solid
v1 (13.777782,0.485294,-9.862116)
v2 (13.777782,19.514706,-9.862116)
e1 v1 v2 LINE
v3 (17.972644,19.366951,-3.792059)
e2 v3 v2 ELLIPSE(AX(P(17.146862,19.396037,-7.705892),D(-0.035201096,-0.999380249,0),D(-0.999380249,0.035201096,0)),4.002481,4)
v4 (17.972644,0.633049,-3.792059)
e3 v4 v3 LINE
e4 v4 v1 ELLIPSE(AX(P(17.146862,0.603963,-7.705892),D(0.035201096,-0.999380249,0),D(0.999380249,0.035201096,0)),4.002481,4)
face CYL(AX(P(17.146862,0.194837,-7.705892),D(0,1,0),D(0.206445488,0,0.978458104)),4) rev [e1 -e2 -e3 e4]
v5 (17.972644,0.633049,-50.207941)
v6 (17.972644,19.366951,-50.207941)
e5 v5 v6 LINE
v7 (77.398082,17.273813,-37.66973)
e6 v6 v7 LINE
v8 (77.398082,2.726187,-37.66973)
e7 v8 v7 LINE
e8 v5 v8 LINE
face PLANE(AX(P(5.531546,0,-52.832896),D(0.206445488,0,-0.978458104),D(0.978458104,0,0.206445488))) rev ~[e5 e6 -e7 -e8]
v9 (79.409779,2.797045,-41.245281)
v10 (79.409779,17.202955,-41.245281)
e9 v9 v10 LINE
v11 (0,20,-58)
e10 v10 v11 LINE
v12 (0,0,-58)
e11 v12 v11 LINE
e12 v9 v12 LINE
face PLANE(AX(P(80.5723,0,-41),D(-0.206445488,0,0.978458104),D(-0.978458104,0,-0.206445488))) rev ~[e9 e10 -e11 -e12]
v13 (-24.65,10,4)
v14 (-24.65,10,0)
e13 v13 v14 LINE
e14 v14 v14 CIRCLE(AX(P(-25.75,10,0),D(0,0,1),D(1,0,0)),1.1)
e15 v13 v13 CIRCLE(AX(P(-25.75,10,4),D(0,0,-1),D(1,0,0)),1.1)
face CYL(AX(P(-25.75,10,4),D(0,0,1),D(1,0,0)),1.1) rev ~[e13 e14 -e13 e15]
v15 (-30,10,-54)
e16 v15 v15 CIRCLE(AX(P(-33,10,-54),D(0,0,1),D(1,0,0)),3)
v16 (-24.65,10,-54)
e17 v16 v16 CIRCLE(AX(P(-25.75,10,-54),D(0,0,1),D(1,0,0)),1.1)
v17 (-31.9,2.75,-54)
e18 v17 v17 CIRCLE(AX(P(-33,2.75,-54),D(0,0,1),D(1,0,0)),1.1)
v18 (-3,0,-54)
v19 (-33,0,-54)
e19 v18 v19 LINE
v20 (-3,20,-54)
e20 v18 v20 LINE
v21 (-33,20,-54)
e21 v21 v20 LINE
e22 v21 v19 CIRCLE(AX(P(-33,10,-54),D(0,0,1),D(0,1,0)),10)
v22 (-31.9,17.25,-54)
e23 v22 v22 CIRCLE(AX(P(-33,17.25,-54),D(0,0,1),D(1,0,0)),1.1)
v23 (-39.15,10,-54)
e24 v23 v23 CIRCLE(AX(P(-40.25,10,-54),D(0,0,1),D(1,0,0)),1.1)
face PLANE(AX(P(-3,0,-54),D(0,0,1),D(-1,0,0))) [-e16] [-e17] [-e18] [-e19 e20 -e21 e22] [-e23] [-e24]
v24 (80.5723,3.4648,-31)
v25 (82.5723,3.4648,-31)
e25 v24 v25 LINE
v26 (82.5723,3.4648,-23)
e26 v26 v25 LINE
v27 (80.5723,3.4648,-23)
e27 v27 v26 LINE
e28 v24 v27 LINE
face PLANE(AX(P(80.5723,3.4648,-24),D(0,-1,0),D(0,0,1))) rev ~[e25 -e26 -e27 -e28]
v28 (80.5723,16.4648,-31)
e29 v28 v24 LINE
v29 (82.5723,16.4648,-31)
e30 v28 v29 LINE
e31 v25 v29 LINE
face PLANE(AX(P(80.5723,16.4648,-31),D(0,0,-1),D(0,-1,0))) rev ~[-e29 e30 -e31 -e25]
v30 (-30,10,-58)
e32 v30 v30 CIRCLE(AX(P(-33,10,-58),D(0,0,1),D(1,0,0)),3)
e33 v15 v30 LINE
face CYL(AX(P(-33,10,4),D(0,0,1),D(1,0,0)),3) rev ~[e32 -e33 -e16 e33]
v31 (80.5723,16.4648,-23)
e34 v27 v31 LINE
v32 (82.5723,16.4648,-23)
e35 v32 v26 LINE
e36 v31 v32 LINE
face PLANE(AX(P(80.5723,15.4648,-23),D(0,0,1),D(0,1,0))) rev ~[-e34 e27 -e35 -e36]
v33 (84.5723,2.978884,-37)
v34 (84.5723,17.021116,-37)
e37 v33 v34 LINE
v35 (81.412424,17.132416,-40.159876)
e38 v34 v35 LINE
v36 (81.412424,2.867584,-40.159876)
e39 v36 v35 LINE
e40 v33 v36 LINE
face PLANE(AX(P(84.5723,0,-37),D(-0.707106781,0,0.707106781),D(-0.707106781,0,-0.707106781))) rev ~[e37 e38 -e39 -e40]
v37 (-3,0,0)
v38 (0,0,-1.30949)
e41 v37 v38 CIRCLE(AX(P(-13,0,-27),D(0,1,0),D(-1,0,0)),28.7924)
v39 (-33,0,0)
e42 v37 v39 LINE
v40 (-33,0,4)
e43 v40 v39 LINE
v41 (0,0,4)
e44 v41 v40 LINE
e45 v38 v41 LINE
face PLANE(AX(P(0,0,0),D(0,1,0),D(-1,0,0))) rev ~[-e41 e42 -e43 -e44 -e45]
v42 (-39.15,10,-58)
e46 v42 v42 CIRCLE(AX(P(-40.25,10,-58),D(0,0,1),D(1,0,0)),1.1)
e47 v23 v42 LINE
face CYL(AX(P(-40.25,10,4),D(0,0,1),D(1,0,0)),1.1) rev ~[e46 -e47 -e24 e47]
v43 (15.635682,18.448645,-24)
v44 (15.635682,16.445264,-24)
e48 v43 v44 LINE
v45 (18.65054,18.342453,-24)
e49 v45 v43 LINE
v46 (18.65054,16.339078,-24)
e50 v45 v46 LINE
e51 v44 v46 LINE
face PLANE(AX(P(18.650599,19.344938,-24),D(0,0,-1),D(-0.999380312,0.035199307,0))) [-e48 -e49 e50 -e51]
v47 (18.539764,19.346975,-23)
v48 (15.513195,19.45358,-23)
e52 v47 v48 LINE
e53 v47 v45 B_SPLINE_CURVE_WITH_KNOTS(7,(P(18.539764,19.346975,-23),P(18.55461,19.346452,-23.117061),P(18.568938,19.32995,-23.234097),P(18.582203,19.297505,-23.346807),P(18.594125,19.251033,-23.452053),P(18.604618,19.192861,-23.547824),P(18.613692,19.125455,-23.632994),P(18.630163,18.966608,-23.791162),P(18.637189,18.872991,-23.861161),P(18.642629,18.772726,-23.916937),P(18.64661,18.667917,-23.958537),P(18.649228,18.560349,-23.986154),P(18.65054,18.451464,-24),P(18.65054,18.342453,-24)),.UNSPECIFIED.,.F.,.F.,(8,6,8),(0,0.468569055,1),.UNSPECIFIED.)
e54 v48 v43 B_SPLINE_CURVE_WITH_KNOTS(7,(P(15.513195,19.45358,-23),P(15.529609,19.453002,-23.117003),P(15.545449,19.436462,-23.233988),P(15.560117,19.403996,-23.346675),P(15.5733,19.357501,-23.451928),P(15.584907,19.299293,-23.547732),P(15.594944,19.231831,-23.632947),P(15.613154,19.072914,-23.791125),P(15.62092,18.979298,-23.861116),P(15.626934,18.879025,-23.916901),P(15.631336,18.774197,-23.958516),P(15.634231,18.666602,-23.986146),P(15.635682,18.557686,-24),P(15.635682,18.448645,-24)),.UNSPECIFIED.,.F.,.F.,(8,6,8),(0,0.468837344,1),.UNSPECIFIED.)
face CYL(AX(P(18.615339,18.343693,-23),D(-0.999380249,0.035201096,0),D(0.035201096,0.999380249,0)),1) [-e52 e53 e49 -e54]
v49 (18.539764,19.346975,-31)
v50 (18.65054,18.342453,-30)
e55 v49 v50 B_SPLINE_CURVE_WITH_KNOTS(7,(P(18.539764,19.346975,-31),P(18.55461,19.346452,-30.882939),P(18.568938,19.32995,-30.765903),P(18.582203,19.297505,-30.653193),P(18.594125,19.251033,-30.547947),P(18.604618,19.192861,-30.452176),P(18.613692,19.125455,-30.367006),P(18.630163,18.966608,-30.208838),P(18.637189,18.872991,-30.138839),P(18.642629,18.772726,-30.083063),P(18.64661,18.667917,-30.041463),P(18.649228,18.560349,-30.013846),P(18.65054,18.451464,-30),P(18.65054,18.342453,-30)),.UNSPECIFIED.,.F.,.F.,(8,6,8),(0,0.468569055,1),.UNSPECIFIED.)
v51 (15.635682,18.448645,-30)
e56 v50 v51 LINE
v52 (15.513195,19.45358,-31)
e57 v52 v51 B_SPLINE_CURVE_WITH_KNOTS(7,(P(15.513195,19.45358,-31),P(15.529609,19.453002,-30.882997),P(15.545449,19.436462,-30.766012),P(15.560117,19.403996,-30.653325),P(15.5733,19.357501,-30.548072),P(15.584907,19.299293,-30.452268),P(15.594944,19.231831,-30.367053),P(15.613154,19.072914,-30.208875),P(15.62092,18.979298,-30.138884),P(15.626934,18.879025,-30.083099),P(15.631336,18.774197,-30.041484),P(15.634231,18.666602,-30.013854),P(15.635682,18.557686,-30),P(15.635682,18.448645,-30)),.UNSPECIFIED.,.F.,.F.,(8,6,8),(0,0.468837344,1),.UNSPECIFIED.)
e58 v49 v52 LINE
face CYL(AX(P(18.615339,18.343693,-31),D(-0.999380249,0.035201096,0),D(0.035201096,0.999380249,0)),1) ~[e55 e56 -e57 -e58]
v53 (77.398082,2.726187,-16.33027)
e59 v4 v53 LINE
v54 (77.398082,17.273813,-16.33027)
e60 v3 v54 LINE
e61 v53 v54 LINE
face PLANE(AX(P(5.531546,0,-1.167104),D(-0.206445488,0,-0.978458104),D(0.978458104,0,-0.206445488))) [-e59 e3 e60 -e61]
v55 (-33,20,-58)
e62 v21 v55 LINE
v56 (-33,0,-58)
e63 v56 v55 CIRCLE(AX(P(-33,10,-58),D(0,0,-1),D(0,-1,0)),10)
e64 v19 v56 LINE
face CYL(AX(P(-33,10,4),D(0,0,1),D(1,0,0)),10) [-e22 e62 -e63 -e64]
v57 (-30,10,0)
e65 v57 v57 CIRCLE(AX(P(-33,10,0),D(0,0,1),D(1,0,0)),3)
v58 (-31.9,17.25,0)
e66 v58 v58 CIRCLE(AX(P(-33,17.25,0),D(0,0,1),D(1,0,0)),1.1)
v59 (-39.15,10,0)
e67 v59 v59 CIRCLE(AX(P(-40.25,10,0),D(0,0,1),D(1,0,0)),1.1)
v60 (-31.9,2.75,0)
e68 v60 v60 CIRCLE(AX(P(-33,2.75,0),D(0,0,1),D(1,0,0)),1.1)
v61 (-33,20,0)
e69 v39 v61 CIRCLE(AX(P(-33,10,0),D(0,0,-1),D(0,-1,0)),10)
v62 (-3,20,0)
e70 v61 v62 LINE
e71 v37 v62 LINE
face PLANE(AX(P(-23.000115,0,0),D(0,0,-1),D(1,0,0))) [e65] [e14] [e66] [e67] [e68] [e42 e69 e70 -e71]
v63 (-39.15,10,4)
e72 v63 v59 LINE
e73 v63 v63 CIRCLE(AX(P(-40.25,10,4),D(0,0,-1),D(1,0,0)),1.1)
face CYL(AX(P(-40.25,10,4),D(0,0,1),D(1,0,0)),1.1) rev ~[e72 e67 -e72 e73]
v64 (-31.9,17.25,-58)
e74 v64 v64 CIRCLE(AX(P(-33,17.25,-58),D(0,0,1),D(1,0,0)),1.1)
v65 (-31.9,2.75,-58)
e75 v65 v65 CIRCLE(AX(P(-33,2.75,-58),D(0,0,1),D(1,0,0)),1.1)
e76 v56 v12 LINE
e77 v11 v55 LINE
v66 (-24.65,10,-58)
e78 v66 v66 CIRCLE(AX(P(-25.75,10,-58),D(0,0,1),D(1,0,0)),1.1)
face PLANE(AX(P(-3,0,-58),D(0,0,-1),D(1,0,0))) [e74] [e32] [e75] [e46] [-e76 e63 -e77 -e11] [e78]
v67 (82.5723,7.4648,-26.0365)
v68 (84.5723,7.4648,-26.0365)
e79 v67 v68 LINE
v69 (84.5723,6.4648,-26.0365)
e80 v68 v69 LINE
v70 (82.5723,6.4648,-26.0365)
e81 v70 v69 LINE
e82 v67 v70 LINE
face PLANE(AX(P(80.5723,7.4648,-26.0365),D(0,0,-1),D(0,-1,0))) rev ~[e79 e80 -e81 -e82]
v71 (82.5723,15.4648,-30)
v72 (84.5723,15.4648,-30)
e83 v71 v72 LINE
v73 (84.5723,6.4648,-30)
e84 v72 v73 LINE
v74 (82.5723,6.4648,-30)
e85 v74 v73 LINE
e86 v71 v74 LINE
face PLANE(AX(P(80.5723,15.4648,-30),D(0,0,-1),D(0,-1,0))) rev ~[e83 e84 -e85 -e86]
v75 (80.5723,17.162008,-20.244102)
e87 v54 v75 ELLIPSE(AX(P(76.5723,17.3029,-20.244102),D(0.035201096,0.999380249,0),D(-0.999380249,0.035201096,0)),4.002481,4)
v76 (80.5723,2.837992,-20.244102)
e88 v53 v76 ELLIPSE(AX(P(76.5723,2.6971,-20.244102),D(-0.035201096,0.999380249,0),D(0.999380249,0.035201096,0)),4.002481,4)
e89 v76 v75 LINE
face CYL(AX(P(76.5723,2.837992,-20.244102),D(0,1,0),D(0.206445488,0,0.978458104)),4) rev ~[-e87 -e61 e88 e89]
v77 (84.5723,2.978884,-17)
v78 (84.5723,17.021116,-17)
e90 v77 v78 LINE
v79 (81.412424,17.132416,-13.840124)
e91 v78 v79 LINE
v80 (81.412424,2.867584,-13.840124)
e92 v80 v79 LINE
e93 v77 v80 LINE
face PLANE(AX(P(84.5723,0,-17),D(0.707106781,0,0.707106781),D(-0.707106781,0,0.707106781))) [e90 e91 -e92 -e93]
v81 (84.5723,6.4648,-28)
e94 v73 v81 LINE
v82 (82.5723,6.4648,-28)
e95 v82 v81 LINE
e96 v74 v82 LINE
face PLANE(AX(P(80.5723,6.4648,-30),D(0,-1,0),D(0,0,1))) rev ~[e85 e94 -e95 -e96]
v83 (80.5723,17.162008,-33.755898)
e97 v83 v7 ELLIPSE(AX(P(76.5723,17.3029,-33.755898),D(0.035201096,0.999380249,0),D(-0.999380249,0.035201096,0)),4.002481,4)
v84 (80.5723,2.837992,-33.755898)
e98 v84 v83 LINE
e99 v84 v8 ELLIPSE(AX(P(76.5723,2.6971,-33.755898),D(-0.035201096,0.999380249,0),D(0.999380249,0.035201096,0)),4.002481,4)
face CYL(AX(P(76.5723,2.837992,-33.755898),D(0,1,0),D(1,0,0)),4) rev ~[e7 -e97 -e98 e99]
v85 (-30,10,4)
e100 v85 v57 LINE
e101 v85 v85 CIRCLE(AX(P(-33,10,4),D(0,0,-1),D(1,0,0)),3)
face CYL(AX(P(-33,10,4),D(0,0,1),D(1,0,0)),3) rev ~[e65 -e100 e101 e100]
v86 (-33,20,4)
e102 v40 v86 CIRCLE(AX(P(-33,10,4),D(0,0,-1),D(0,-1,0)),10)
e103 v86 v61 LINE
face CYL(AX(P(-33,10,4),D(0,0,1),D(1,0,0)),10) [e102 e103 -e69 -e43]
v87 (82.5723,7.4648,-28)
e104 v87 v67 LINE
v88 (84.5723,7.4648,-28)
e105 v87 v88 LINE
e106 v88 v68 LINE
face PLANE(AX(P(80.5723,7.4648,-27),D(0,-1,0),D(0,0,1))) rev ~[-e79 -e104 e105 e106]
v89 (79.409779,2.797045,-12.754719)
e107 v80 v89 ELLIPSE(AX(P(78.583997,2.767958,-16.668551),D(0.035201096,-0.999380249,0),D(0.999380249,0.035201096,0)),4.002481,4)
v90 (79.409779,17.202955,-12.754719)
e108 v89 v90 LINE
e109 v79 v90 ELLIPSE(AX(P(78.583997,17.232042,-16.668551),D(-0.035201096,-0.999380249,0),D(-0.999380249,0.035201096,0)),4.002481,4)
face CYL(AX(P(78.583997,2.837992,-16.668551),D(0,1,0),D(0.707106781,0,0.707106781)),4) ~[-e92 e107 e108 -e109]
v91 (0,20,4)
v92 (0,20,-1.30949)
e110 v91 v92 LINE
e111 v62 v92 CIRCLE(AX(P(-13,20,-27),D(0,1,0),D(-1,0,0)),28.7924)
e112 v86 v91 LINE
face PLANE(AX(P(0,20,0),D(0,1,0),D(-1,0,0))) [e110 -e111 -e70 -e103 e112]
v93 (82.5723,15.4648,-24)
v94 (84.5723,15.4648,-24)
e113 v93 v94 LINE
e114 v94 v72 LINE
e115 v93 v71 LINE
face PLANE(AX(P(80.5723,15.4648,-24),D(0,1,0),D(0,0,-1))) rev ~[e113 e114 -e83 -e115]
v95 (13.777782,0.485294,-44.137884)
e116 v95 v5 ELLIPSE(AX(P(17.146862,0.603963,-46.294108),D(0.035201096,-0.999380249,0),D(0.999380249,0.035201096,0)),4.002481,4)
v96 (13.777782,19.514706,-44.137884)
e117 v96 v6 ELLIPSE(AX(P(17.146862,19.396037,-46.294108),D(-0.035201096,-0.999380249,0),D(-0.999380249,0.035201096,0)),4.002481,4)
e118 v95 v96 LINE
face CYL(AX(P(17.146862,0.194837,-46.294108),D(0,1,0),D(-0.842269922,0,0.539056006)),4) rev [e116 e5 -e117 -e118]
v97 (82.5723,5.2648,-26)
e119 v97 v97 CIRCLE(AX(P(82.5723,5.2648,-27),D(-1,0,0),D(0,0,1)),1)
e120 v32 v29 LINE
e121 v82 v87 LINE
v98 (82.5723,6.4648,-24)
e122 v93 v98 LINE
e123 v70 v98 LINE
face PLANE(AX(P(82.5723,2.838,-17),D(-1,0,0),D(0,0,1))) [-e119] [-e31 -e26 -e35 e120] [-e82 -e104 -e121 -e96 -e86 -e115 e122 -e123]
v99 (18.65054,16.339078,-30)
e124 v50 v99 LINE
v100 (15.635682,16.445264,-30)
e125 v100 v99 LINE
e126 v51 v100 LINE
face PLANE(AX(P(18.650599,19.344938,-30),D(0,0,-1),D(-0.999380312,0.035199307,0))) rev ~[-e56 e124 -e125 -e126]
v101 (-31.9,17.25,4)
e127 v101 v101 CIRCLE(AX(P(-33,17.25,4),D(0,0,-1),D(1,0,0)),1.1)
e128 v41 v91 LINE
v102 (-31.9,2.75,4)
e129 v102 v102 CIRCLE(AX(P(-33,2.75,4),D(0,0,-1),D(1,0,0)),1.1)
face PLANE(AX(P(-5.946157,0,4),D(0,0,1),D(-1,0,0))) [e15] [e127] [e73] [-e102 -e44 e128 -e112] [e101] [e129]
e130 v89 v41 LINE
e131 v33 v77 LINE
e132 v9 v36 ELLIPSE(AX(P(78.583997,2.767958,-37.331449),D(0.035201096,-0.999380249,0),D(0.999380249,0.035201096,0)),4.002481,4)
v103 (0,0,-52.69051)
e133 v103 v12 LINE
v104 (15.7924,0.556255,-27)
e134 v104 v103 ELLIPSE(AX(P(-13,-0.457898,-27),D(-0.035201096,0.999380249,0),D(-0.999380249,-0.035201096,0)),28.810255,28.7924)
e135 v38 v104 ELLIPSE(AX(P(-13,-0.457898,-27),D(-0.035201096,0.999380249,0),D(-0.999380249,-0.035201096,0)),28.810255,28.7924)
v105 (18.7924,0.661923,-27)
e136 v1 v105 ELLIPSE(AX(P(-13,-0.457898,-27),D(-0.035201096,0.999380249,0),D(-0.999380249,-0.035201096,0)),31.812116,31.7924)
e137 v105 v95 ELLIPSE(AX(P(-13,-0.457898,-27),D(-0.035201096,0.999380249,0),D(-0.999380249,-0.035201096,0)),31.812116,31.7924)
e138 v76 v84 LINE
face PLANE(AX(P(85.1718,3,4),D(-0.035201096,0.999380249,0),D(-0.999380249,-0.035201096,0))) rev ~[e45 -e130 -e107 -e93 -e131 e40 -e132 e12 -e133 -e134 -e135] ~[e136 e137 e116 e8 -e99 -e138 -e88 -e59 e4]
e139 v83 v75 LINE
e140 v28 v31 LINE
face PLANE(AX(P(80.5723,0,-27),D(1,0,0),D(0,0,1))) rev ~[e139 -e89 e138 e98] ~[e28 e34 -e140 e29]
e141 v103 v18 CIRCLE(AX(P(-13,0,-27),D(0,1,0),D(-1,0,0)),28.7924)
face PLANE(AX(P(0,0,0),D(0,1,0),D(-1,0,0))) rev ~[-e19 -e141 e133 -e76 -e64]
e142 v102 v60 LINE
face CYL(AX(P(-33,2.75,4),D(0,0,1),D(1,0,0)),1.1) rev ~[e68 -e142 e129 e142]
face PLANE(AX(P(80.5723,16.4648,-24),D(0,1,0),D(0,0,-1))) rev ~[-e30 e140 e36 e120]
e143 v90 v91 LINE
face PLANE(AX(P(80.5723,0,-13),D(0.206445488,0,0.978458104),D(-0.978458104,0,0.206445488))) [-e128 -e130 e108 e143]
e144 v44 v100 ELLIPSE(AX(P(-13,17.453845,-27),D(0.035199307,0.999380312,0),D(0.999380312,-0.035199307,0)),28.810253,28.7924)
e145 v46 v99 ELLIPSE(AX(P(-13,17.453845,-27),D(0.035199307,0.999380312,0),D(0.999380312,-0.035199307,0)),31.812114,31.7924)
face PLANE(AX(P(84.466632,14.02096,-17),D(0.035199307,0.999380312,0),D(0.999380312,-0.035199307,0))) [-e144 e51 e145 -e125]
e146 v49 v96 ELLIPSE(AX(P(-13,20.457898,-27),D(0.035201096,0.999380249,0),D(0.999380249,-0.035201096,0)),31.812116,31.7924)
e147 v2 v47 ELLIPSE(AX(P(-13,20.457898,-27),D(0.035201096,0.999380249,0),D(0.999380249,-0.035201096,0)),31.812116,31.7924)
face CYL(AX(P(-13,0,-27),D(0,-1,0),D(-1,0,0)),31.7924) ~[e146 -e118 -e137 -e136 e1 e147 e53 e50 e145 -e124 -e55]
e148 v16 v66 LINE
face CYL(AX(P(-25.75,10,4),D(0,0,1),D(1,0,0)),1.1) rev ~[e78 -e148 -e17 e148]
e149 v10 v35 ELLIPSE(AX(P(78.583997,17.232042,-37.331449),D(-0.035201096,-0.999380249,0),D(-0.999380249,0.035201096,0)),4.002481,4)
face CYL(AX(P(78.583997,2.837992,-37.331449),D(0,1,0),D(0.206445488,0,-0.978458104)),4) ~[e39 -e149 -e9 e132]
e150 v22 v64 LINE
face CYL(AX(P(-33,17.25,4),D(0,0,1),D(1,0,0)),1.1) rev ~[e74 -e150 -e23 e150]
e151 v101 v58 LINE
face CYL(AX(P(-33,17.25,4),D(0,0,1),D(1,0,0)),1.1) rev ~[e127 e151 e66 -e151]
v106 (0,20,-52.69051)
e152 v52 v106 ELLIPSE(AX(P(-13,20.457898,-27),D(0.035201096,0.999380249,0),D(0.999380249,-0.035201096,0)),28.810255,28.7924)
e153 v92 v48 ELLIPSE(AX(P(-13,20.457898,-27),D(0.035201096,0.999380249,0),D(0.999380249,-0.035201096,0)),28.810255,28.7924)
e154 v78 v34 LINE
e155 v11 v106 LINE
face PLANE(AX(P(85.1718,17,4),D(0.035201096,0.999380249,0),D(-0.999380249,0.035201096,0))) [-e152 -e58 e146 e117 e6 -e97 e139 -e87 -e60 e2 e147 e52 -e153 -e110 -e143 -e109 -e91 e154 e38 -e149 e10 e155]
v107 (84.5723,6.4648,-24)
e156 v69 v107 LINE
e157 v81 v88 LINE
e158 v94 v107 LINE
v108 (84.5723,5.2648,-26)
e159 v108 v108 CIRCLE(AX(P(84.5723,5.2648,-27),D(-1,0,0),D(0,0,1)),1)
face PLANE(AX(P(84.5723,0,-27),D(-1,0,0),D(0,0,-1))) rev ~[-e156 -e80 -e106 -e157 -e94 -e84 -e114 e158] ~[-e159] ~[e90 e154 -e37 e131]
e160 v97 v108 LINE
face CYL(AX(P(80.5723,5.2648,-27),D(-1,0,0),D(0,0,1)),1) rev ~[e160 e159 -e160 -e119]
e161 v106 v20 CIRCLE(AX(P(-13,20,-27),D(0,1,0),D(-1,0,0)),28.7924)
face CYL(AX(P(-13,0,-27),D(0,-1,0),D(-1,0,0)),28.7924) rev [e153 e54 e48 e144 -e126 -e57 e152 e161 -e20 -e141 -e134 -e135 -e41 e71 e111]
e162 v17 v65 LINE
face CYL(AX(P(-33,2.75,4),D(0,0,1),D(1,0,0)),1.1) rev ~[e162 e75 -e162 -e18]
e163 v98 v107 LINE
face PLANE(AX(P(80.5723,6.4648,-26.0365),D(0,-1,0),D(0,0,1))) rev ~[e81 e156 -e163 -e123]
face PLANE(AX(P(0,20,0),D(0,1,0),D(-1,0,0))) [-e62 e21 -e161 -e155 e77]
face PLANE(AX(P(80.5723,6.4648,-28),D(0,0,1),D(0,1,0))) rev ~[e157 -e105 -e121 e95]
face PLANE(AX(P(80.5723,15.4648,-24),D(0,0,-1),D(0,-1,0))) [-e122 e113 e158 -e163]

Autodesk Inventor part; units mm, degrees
ref_plane "YZ Plane" through (0, 0, 0) normal (1, 0, 0) x (0, 1, 0)
ref_plane "XZ Plane" through (0, 0, 0) normal (0, 1, 0) x (-1, 0, 0)
ref_plane "XY Plane" through (0, 0, 0) normal (0, 0, 1) x (1, 0, 0)
sketch "Sketch1" plane through (0, 0, 0) normal (0, 1, 0) x (-1, 0, 0)
  line L0 (0, 0) -> (0, -54)
  line L1 (0, -54) -> (5, -54)
  line L2 (5, -54) -> (5, -58)
  line L3 (5, -58) -> (0, -58)
  line L4 (0, -58) -> (0, -54)
  line L5 (0, 0) -> (3, 0)
  line L6 (3, 0) -> (3, 4)
  line L7 (3, 4) -> (0, 4)
  line L8 (0, 4) -> (0, 0)
  line L9 (3, 0) -> (0, 0)
  line L10 (0, 0) -> (0, -54)
  line L11 (0, -54) -> (3, -54)
  line L12 (3, -54) -> (3, 0)
  line L13 (3, 4) -> (43, 4)
  line L14 (43, 4) -> (43, 0)
  line L15 (43, 0) -> (3, 0)
  line L16 (3, 0) -> (3, 4)
  line L17 (3, -54) -> (43, -54)
  line L18 (43, -54) -> (43, -58)
  line L19 (43, -58) -> (3, -58)
  line L20 (3, -58) -> (3, -54)
  line L21 (0, -27) -> (-82.8143, -27)
  line L22 (-82.8143, -27) -> (-97.578, -27)
  line L23 (0, 4) -> (90, 4) construction
  line L24 (0, 0) -> (80, 0) construction
  line L25 (-84.5723, -27) -> (-84.5723, -17)
  line L26 (-84.5723, -27) -> (-84.5723, -37)
  line L27 (-84.5723, -37) -> (-80.5723, -37)
  line L28 (-80.5723, -37) -> (-80.5723, -17)
  line L29 (-80.5723, -17) -> (-84.5723, -17)
  line L30 (0, 0) -> (-80.5723, -17)
  line L31 (0, -54) -> (-80.5723, -37)
  line L32 (-80.5723, -37) -> (-80.5723, -41)
  line L33 (-80.5723, -41) -> (0, -58)
  line L34 (-84.5723, -37) -> (-80.5723, -41)
  line L35 (-80.5723, -17) -> (-80.5723, -13)
  line L36 (-80.5723, -13) -> (0, 4)
  line L37 (-84.5723, -17) -> (-80.5723, -13)
  line L38 (3, -27) -> (13, -27)
  circle A0 centre (13, -27) radius 28.7924
  line L39 (41.7924, -27) -> (44.7924, -27)
  circle A1 centre (13, -27) radius 31.7924
  point P0 (-85.1718, -27)
  point P1 (-74.1819, -27)
  point P2 (3, 0)
  point P3 (-5.5314, -1.1671)
  point P4 (-5.5314, -52.8329)
  dimension "d0" = 54
  dimension "d1" = 5
  dimension "d2" = 4
  dimension "d3" = 3
  dimension "d4" = 4
  dimension "d5" = 40
  dimension "d6" = 40
  dimension "d32" = 10
  dimension "d34" = 10
  dimension "d35" = 4
  dimension "d36" = 4
  dimension "d37" = 4
  dimension "d41" = 10
  dimension "d42" = 3
  dimension "d58" = 4
extrude "Extrusion1" add sketch "Sketch1" along normal blind 20 contours L5 A0 L0 | L8 A1 L6 L5 | L30 A1 L8 | L0 A0 L21 A1 L30 | A0 L15 | L6 A1 L13 L15 A0 | A1 L30 L35 L36 L8 | L8 L7 L6 A1 | A0 L0 L31 A1 L21 | L6 L13 A1 | L28 L21 L22 L25 L29 | L29 L37 L35 | A0 L1 L0 | L20 A1 L4 L1 | A0 L2 A1 L20 | L1 L2 A0 | A1 L13 L14 L15 | L28 L27 L26 L22 L21 | A1 L4 L33 L32 L31 | L31 L4 A1 | L17 A0 L2 | A1 L2 L3 L20 | L20 L3 L4 A1 | A0 L17 A1 L19 L2 | L32 L34 L27 | A1 L19 L2 | L17 L18 L19 A1
sketch "Sketch2" plane through (-43, 0, 4) normal (0, 0, 1) x (1, 0, 0)
  line L0 (43, 20) -> (0, 20) projected
  line L1 (0, 20) -> (10, 20)
  line L2 (10, 20) -> (10, 10)
  line L3 (10, 10) -> (0, 10)
  line L4 (0, 10) -> (0, 20)
  circle A0 centre (10, 10) radius 3
  circle A1 centre (10, 10) radius 10
  line L5 (128.1718, 0) -> (128.1718, 20) projected
  line L6 (128.1718, 10) -> (128.1718, 17)
  line L7 (128.1718, 17) -> (128.1718, 3)
  line L8 (43, 0) -> (0, 0) projected
  line L9 (128.1718, 3) -> (43, 0)
  line L10 (43, 0) -> (128.1718, 0)
  line L11 (128.1718, 0) -> (128.1718, 3)
  line L12 (43, 20) -> (73.6773, 20) projected
  line L13 (128.1718, 17) -> (43, 20)
  line L14 (128.1718, 20) -> (43, 20) projected
  line L15 (43, 20) -> (128.1718, 20)
  line L16 (128.1718, 20) -> (128.1718, 17)
  line L17 (10, 10) -> (0, 10)
  line L18 (0, 10) -> (0, 0)
  line L19 (0, 0) -> (10, 0)
  line L20 (10, 0) -> (10, 10)
  circle A2 centre (10, 10) radius 8
  circle A3 centre (10, 10) radius 6.5
  line L21 (10, 18) -> (10, 16.5)
  circle A4 centre (10, 17.25) radius 1.1
  line L22 (2, 10) -> (3.5, 10)
  circle A5 centre (2.75, 10) radius 1.1
  line L23 (10, 3.5) -> (10, 2)
  circle A6 centre (10, 2.75) radius 1.1
  line L24 (16.5, 10) -> (18, 10)
  circle A7 centre (17.25, 10) radius 1.1
  dimension "d15" = 10
  dimension "d16" = 10
  dimension "d17" = 6
  dimension "d18" = 7
  dimension "d19" = 14
  dimension "d22" = 16
  dimension "d23" = 13
  dimension "d24" = 2.2
  dimension "d25" = 2.2
  dimension "d26" = 2.2
  dimension "d27" = 2.2
extrude "Extrusion2" cut sketch "Sketch2" against normal blind 100 contours L12 L14 L5 L13 | A1 L4 L0 | A4 A2 L2 | L2 A2 A4 | A1 L8 L18 | A2 A4 A3 L2 | L2 A3 A4 A2 | A5 A2 L3 | L3 A2 A5 | L5 L10 L9 | A3 A4 L2 | L2 A4 A3 | A7 A2 | A2 L24 A3 A7 | A5 A3 L3 A2 | A6 A2 L20 | L20 A2 A6 | L3 A3 A5 A2 | A2 A7 A3 L24 | A3 A7 | A5 L3 A3 | A2 A6 A3 L20 | L20 A3 A6 A2 | L3 A5 A3 | A0 L20 L2 | L2 L3 A0 | A3 A6 L20 | L20 A6 A3 | L20 A0 L3
sketch "Sketch3" plane through (80.5723, 2.838, -17) normal (-1, 0, 0) x (0, 0, 1)
  line L0 (0, 14.324) -> (-20, 14.324) projected
  line L1 (-20, 14.1831) -> (0, 14.1831) projected
  line L2 (0, 14.324) -> (-20, 14.1831)
  line L3 (-10, 14.2536) -> (-10, 0)
  line L4 (-20, 0) -> (0, 0) projected
  line L5 (-14, 0.6268) -> (-6, 0.6268)
  line L6 (-6, 0.6268) -> (-6, 13.6268)
  line L7 (-6, 13.6268) -> (-14, 13.6268)
  line L8 (-14, 13.6268) -> (-14, 0.6268)
  line L9 (-14, 0.6268) -> (-6, 13.6268) construction
  line L10 (-6, 0.6268) -> (-14, 13.6268) construction
  line L11 (-14, 0.6268) -> (-10, 0.6268)
  line L12 (-10, 0.6268) -> (-10, 2.4268)
  line L13 (-10, 2.4268) -> (-14, 2.4268)
  line L14 (-14, 2.4268) -> (-14, 0.6268)
  circle A0 centre (-10, 2.4268) radius 1
  line L15 (-14, 13.6268) -> (-6, 13.6268)
  line L16 (-6, 13.6268) -> (-6, 12.6268)
  line L17 (-6, 12.6268) -> (-14, 12.6268)
  line L18 (-14, 12.6268) -> (-14, 13.6268)
  line L19 (-14, 13.6268) -> (-13, 13.6268)
  line L20 (-13, 13.6268) -> (-13, 0.6268)
  line L21 (-13, 0.6268) -> (-14, 0.6268)
  line L22 (-14, 0.6268) -> (-14, 13.6268)
  line L23 (-6, 13.6268) -> (-7, 13.6268)
  line L24 (-7, 13.6268) -> (-7, 0.6268)
  line L25 (-7, 0.6268) -> (-6, 0.6268)
  line L26 (-6, 0.6268) -> (-6, 13.6268)
  line L27 (-6, 0.6268) -> (-14, 0.6268)
  line L28 (-14, 0.6268) -> (-14, 3.6268)
  line L29 (-14, 3.6268) -> (-6, 3.6268)
  line L30 (-6, 3.6268) -> (-6, 0.6268)
  line L31 (-9.0365, 2.6944) -> (-11, 2.6944)
  line L32 (-11, 2.6944) -> (-11, 4.6268)
  line L33 (-11, 4.6268) -> (-9.0365, 4.6268)
  line L34 (-9.0365, 4.6268) -> (-9.0365, 2.6944)
  line L35 (-6, 13.6268) -> (-7, 13.6268)
  line L36 (-7, 13.6268) -> (-7, 3.6268)
  line L37 (-7, 3.6268) -> (-6, 3.6268)
  line L38 (-6, 3.6268) -> (-6, 13.6268)
  point P0 (17, -2.838)
  point P1 (-10, 7.1268)
  point P2 (-9.0365, 3.6268)
  point P3 (-7, 12.6268)
  point P4 (-13, 12.6268)
  point P5 (-13, 3.6268)
  point P6 (-11, 3.6268)
  dimension "d46" = 2
  dimension "d38" = 8
  dimension "d39" = 13
  dimension "d44" = 4
  dimension "d45" = 1.8
  dimension "d47" = 1
  dimension "d48" = 1
  dimension "d49" = 1
  dimension "d50" = 3
  dimension "d51" = 4
fillet "Fillet1" radius 4 4 edges at (80.5723, 10, -41) (80.5723, 10, -13) (80.5723, 10, -37) (80.5723, 10, -17)
fillet "Fillet2" radius 4 2 edges at (5.5314, 10, -52.8329) (5.5314, 10, -1.1671)
extrude "Extrusion3" cut sketch "Sketch3" against normal blind 20 contours L17 L24 L29 L34 L33 L3 | L3 L33 L32 L29 L20 L17 | A0 L31 L3 | L3 L31 A0 | L31 A0 L3 | L3 L13 A0 L31 | L13 L3 A0
extrude "Extrusion4" cut sketch "Sketch3" against normal blind 2 contours L7 L24 L17 L3 | L3 L17 L20 L7 | L7 L6 L17 L24 | L20 L17 L8 L7 | L33 L34 L29 L3 | L3 L29 L32 L33 | L17 L6 L29 L24 | L20 L29 L8 L17 | L29 L34 A0 L3 | L3 A0 L31 L32 L29 | L29 L6 L5 L24 | L24 L5 L3 A0 L34 L29 | L29 L32 L31 A0 L13 L20 | L20 L13 L8 L29 | A0 L31 L3 | L3 L31 A0 | L20 L5 L8 L13 | L13 A0 L3 L5 L20 | L31 A0 L3 | L3 L13 A0 L31 | L13 L3 A0
sketch "Sketch4" plane through (84.5723, 17.0211, -17) normal (0.0352, 0.9994, 0) x (0.9994, -0.0352, 0)
  ellipse E0 centre (-97.6328, 10) end of major axis (-129.4449, 10) minor radius 31.7924 (-70.8385, -7.1379) -> (-70.8385, 27.1379) ccw projected
  line L0 (-97.6328, 10) -> (-62.4593, 10)
  line L1 (-62.4593, 10) -> (-62.4593, 13)
  line L2 (-62.4593, 13) -> (-97.6328, 13)
  line L3 (-97.6328, 13) -> (-97.6328, 10)
  line L4 (-97.6328, 10) -> (-62.4593, 10)
  line L5 (-62.4593, 10) -> (-62.4593, 7)
  line L6 (-62.4593, 7) -> (-97.6328, 7)
  line L7 (-97.6328, 7) -> (-97.6328, 10)
  point P0 (-83.9208, -17)
  point P1 (-62.4593, 10)
  dimension "d59" = 3
  dimension "d60" = 3
extrude "Extrusion6" cut sketch "Sketch4" against normal blind 3
fillet "Fillet3" radius 1 2 edges at (17.1431, 19.3962, -30) (17.1431, 19.3962, -24)
properties part number "calf_2"
